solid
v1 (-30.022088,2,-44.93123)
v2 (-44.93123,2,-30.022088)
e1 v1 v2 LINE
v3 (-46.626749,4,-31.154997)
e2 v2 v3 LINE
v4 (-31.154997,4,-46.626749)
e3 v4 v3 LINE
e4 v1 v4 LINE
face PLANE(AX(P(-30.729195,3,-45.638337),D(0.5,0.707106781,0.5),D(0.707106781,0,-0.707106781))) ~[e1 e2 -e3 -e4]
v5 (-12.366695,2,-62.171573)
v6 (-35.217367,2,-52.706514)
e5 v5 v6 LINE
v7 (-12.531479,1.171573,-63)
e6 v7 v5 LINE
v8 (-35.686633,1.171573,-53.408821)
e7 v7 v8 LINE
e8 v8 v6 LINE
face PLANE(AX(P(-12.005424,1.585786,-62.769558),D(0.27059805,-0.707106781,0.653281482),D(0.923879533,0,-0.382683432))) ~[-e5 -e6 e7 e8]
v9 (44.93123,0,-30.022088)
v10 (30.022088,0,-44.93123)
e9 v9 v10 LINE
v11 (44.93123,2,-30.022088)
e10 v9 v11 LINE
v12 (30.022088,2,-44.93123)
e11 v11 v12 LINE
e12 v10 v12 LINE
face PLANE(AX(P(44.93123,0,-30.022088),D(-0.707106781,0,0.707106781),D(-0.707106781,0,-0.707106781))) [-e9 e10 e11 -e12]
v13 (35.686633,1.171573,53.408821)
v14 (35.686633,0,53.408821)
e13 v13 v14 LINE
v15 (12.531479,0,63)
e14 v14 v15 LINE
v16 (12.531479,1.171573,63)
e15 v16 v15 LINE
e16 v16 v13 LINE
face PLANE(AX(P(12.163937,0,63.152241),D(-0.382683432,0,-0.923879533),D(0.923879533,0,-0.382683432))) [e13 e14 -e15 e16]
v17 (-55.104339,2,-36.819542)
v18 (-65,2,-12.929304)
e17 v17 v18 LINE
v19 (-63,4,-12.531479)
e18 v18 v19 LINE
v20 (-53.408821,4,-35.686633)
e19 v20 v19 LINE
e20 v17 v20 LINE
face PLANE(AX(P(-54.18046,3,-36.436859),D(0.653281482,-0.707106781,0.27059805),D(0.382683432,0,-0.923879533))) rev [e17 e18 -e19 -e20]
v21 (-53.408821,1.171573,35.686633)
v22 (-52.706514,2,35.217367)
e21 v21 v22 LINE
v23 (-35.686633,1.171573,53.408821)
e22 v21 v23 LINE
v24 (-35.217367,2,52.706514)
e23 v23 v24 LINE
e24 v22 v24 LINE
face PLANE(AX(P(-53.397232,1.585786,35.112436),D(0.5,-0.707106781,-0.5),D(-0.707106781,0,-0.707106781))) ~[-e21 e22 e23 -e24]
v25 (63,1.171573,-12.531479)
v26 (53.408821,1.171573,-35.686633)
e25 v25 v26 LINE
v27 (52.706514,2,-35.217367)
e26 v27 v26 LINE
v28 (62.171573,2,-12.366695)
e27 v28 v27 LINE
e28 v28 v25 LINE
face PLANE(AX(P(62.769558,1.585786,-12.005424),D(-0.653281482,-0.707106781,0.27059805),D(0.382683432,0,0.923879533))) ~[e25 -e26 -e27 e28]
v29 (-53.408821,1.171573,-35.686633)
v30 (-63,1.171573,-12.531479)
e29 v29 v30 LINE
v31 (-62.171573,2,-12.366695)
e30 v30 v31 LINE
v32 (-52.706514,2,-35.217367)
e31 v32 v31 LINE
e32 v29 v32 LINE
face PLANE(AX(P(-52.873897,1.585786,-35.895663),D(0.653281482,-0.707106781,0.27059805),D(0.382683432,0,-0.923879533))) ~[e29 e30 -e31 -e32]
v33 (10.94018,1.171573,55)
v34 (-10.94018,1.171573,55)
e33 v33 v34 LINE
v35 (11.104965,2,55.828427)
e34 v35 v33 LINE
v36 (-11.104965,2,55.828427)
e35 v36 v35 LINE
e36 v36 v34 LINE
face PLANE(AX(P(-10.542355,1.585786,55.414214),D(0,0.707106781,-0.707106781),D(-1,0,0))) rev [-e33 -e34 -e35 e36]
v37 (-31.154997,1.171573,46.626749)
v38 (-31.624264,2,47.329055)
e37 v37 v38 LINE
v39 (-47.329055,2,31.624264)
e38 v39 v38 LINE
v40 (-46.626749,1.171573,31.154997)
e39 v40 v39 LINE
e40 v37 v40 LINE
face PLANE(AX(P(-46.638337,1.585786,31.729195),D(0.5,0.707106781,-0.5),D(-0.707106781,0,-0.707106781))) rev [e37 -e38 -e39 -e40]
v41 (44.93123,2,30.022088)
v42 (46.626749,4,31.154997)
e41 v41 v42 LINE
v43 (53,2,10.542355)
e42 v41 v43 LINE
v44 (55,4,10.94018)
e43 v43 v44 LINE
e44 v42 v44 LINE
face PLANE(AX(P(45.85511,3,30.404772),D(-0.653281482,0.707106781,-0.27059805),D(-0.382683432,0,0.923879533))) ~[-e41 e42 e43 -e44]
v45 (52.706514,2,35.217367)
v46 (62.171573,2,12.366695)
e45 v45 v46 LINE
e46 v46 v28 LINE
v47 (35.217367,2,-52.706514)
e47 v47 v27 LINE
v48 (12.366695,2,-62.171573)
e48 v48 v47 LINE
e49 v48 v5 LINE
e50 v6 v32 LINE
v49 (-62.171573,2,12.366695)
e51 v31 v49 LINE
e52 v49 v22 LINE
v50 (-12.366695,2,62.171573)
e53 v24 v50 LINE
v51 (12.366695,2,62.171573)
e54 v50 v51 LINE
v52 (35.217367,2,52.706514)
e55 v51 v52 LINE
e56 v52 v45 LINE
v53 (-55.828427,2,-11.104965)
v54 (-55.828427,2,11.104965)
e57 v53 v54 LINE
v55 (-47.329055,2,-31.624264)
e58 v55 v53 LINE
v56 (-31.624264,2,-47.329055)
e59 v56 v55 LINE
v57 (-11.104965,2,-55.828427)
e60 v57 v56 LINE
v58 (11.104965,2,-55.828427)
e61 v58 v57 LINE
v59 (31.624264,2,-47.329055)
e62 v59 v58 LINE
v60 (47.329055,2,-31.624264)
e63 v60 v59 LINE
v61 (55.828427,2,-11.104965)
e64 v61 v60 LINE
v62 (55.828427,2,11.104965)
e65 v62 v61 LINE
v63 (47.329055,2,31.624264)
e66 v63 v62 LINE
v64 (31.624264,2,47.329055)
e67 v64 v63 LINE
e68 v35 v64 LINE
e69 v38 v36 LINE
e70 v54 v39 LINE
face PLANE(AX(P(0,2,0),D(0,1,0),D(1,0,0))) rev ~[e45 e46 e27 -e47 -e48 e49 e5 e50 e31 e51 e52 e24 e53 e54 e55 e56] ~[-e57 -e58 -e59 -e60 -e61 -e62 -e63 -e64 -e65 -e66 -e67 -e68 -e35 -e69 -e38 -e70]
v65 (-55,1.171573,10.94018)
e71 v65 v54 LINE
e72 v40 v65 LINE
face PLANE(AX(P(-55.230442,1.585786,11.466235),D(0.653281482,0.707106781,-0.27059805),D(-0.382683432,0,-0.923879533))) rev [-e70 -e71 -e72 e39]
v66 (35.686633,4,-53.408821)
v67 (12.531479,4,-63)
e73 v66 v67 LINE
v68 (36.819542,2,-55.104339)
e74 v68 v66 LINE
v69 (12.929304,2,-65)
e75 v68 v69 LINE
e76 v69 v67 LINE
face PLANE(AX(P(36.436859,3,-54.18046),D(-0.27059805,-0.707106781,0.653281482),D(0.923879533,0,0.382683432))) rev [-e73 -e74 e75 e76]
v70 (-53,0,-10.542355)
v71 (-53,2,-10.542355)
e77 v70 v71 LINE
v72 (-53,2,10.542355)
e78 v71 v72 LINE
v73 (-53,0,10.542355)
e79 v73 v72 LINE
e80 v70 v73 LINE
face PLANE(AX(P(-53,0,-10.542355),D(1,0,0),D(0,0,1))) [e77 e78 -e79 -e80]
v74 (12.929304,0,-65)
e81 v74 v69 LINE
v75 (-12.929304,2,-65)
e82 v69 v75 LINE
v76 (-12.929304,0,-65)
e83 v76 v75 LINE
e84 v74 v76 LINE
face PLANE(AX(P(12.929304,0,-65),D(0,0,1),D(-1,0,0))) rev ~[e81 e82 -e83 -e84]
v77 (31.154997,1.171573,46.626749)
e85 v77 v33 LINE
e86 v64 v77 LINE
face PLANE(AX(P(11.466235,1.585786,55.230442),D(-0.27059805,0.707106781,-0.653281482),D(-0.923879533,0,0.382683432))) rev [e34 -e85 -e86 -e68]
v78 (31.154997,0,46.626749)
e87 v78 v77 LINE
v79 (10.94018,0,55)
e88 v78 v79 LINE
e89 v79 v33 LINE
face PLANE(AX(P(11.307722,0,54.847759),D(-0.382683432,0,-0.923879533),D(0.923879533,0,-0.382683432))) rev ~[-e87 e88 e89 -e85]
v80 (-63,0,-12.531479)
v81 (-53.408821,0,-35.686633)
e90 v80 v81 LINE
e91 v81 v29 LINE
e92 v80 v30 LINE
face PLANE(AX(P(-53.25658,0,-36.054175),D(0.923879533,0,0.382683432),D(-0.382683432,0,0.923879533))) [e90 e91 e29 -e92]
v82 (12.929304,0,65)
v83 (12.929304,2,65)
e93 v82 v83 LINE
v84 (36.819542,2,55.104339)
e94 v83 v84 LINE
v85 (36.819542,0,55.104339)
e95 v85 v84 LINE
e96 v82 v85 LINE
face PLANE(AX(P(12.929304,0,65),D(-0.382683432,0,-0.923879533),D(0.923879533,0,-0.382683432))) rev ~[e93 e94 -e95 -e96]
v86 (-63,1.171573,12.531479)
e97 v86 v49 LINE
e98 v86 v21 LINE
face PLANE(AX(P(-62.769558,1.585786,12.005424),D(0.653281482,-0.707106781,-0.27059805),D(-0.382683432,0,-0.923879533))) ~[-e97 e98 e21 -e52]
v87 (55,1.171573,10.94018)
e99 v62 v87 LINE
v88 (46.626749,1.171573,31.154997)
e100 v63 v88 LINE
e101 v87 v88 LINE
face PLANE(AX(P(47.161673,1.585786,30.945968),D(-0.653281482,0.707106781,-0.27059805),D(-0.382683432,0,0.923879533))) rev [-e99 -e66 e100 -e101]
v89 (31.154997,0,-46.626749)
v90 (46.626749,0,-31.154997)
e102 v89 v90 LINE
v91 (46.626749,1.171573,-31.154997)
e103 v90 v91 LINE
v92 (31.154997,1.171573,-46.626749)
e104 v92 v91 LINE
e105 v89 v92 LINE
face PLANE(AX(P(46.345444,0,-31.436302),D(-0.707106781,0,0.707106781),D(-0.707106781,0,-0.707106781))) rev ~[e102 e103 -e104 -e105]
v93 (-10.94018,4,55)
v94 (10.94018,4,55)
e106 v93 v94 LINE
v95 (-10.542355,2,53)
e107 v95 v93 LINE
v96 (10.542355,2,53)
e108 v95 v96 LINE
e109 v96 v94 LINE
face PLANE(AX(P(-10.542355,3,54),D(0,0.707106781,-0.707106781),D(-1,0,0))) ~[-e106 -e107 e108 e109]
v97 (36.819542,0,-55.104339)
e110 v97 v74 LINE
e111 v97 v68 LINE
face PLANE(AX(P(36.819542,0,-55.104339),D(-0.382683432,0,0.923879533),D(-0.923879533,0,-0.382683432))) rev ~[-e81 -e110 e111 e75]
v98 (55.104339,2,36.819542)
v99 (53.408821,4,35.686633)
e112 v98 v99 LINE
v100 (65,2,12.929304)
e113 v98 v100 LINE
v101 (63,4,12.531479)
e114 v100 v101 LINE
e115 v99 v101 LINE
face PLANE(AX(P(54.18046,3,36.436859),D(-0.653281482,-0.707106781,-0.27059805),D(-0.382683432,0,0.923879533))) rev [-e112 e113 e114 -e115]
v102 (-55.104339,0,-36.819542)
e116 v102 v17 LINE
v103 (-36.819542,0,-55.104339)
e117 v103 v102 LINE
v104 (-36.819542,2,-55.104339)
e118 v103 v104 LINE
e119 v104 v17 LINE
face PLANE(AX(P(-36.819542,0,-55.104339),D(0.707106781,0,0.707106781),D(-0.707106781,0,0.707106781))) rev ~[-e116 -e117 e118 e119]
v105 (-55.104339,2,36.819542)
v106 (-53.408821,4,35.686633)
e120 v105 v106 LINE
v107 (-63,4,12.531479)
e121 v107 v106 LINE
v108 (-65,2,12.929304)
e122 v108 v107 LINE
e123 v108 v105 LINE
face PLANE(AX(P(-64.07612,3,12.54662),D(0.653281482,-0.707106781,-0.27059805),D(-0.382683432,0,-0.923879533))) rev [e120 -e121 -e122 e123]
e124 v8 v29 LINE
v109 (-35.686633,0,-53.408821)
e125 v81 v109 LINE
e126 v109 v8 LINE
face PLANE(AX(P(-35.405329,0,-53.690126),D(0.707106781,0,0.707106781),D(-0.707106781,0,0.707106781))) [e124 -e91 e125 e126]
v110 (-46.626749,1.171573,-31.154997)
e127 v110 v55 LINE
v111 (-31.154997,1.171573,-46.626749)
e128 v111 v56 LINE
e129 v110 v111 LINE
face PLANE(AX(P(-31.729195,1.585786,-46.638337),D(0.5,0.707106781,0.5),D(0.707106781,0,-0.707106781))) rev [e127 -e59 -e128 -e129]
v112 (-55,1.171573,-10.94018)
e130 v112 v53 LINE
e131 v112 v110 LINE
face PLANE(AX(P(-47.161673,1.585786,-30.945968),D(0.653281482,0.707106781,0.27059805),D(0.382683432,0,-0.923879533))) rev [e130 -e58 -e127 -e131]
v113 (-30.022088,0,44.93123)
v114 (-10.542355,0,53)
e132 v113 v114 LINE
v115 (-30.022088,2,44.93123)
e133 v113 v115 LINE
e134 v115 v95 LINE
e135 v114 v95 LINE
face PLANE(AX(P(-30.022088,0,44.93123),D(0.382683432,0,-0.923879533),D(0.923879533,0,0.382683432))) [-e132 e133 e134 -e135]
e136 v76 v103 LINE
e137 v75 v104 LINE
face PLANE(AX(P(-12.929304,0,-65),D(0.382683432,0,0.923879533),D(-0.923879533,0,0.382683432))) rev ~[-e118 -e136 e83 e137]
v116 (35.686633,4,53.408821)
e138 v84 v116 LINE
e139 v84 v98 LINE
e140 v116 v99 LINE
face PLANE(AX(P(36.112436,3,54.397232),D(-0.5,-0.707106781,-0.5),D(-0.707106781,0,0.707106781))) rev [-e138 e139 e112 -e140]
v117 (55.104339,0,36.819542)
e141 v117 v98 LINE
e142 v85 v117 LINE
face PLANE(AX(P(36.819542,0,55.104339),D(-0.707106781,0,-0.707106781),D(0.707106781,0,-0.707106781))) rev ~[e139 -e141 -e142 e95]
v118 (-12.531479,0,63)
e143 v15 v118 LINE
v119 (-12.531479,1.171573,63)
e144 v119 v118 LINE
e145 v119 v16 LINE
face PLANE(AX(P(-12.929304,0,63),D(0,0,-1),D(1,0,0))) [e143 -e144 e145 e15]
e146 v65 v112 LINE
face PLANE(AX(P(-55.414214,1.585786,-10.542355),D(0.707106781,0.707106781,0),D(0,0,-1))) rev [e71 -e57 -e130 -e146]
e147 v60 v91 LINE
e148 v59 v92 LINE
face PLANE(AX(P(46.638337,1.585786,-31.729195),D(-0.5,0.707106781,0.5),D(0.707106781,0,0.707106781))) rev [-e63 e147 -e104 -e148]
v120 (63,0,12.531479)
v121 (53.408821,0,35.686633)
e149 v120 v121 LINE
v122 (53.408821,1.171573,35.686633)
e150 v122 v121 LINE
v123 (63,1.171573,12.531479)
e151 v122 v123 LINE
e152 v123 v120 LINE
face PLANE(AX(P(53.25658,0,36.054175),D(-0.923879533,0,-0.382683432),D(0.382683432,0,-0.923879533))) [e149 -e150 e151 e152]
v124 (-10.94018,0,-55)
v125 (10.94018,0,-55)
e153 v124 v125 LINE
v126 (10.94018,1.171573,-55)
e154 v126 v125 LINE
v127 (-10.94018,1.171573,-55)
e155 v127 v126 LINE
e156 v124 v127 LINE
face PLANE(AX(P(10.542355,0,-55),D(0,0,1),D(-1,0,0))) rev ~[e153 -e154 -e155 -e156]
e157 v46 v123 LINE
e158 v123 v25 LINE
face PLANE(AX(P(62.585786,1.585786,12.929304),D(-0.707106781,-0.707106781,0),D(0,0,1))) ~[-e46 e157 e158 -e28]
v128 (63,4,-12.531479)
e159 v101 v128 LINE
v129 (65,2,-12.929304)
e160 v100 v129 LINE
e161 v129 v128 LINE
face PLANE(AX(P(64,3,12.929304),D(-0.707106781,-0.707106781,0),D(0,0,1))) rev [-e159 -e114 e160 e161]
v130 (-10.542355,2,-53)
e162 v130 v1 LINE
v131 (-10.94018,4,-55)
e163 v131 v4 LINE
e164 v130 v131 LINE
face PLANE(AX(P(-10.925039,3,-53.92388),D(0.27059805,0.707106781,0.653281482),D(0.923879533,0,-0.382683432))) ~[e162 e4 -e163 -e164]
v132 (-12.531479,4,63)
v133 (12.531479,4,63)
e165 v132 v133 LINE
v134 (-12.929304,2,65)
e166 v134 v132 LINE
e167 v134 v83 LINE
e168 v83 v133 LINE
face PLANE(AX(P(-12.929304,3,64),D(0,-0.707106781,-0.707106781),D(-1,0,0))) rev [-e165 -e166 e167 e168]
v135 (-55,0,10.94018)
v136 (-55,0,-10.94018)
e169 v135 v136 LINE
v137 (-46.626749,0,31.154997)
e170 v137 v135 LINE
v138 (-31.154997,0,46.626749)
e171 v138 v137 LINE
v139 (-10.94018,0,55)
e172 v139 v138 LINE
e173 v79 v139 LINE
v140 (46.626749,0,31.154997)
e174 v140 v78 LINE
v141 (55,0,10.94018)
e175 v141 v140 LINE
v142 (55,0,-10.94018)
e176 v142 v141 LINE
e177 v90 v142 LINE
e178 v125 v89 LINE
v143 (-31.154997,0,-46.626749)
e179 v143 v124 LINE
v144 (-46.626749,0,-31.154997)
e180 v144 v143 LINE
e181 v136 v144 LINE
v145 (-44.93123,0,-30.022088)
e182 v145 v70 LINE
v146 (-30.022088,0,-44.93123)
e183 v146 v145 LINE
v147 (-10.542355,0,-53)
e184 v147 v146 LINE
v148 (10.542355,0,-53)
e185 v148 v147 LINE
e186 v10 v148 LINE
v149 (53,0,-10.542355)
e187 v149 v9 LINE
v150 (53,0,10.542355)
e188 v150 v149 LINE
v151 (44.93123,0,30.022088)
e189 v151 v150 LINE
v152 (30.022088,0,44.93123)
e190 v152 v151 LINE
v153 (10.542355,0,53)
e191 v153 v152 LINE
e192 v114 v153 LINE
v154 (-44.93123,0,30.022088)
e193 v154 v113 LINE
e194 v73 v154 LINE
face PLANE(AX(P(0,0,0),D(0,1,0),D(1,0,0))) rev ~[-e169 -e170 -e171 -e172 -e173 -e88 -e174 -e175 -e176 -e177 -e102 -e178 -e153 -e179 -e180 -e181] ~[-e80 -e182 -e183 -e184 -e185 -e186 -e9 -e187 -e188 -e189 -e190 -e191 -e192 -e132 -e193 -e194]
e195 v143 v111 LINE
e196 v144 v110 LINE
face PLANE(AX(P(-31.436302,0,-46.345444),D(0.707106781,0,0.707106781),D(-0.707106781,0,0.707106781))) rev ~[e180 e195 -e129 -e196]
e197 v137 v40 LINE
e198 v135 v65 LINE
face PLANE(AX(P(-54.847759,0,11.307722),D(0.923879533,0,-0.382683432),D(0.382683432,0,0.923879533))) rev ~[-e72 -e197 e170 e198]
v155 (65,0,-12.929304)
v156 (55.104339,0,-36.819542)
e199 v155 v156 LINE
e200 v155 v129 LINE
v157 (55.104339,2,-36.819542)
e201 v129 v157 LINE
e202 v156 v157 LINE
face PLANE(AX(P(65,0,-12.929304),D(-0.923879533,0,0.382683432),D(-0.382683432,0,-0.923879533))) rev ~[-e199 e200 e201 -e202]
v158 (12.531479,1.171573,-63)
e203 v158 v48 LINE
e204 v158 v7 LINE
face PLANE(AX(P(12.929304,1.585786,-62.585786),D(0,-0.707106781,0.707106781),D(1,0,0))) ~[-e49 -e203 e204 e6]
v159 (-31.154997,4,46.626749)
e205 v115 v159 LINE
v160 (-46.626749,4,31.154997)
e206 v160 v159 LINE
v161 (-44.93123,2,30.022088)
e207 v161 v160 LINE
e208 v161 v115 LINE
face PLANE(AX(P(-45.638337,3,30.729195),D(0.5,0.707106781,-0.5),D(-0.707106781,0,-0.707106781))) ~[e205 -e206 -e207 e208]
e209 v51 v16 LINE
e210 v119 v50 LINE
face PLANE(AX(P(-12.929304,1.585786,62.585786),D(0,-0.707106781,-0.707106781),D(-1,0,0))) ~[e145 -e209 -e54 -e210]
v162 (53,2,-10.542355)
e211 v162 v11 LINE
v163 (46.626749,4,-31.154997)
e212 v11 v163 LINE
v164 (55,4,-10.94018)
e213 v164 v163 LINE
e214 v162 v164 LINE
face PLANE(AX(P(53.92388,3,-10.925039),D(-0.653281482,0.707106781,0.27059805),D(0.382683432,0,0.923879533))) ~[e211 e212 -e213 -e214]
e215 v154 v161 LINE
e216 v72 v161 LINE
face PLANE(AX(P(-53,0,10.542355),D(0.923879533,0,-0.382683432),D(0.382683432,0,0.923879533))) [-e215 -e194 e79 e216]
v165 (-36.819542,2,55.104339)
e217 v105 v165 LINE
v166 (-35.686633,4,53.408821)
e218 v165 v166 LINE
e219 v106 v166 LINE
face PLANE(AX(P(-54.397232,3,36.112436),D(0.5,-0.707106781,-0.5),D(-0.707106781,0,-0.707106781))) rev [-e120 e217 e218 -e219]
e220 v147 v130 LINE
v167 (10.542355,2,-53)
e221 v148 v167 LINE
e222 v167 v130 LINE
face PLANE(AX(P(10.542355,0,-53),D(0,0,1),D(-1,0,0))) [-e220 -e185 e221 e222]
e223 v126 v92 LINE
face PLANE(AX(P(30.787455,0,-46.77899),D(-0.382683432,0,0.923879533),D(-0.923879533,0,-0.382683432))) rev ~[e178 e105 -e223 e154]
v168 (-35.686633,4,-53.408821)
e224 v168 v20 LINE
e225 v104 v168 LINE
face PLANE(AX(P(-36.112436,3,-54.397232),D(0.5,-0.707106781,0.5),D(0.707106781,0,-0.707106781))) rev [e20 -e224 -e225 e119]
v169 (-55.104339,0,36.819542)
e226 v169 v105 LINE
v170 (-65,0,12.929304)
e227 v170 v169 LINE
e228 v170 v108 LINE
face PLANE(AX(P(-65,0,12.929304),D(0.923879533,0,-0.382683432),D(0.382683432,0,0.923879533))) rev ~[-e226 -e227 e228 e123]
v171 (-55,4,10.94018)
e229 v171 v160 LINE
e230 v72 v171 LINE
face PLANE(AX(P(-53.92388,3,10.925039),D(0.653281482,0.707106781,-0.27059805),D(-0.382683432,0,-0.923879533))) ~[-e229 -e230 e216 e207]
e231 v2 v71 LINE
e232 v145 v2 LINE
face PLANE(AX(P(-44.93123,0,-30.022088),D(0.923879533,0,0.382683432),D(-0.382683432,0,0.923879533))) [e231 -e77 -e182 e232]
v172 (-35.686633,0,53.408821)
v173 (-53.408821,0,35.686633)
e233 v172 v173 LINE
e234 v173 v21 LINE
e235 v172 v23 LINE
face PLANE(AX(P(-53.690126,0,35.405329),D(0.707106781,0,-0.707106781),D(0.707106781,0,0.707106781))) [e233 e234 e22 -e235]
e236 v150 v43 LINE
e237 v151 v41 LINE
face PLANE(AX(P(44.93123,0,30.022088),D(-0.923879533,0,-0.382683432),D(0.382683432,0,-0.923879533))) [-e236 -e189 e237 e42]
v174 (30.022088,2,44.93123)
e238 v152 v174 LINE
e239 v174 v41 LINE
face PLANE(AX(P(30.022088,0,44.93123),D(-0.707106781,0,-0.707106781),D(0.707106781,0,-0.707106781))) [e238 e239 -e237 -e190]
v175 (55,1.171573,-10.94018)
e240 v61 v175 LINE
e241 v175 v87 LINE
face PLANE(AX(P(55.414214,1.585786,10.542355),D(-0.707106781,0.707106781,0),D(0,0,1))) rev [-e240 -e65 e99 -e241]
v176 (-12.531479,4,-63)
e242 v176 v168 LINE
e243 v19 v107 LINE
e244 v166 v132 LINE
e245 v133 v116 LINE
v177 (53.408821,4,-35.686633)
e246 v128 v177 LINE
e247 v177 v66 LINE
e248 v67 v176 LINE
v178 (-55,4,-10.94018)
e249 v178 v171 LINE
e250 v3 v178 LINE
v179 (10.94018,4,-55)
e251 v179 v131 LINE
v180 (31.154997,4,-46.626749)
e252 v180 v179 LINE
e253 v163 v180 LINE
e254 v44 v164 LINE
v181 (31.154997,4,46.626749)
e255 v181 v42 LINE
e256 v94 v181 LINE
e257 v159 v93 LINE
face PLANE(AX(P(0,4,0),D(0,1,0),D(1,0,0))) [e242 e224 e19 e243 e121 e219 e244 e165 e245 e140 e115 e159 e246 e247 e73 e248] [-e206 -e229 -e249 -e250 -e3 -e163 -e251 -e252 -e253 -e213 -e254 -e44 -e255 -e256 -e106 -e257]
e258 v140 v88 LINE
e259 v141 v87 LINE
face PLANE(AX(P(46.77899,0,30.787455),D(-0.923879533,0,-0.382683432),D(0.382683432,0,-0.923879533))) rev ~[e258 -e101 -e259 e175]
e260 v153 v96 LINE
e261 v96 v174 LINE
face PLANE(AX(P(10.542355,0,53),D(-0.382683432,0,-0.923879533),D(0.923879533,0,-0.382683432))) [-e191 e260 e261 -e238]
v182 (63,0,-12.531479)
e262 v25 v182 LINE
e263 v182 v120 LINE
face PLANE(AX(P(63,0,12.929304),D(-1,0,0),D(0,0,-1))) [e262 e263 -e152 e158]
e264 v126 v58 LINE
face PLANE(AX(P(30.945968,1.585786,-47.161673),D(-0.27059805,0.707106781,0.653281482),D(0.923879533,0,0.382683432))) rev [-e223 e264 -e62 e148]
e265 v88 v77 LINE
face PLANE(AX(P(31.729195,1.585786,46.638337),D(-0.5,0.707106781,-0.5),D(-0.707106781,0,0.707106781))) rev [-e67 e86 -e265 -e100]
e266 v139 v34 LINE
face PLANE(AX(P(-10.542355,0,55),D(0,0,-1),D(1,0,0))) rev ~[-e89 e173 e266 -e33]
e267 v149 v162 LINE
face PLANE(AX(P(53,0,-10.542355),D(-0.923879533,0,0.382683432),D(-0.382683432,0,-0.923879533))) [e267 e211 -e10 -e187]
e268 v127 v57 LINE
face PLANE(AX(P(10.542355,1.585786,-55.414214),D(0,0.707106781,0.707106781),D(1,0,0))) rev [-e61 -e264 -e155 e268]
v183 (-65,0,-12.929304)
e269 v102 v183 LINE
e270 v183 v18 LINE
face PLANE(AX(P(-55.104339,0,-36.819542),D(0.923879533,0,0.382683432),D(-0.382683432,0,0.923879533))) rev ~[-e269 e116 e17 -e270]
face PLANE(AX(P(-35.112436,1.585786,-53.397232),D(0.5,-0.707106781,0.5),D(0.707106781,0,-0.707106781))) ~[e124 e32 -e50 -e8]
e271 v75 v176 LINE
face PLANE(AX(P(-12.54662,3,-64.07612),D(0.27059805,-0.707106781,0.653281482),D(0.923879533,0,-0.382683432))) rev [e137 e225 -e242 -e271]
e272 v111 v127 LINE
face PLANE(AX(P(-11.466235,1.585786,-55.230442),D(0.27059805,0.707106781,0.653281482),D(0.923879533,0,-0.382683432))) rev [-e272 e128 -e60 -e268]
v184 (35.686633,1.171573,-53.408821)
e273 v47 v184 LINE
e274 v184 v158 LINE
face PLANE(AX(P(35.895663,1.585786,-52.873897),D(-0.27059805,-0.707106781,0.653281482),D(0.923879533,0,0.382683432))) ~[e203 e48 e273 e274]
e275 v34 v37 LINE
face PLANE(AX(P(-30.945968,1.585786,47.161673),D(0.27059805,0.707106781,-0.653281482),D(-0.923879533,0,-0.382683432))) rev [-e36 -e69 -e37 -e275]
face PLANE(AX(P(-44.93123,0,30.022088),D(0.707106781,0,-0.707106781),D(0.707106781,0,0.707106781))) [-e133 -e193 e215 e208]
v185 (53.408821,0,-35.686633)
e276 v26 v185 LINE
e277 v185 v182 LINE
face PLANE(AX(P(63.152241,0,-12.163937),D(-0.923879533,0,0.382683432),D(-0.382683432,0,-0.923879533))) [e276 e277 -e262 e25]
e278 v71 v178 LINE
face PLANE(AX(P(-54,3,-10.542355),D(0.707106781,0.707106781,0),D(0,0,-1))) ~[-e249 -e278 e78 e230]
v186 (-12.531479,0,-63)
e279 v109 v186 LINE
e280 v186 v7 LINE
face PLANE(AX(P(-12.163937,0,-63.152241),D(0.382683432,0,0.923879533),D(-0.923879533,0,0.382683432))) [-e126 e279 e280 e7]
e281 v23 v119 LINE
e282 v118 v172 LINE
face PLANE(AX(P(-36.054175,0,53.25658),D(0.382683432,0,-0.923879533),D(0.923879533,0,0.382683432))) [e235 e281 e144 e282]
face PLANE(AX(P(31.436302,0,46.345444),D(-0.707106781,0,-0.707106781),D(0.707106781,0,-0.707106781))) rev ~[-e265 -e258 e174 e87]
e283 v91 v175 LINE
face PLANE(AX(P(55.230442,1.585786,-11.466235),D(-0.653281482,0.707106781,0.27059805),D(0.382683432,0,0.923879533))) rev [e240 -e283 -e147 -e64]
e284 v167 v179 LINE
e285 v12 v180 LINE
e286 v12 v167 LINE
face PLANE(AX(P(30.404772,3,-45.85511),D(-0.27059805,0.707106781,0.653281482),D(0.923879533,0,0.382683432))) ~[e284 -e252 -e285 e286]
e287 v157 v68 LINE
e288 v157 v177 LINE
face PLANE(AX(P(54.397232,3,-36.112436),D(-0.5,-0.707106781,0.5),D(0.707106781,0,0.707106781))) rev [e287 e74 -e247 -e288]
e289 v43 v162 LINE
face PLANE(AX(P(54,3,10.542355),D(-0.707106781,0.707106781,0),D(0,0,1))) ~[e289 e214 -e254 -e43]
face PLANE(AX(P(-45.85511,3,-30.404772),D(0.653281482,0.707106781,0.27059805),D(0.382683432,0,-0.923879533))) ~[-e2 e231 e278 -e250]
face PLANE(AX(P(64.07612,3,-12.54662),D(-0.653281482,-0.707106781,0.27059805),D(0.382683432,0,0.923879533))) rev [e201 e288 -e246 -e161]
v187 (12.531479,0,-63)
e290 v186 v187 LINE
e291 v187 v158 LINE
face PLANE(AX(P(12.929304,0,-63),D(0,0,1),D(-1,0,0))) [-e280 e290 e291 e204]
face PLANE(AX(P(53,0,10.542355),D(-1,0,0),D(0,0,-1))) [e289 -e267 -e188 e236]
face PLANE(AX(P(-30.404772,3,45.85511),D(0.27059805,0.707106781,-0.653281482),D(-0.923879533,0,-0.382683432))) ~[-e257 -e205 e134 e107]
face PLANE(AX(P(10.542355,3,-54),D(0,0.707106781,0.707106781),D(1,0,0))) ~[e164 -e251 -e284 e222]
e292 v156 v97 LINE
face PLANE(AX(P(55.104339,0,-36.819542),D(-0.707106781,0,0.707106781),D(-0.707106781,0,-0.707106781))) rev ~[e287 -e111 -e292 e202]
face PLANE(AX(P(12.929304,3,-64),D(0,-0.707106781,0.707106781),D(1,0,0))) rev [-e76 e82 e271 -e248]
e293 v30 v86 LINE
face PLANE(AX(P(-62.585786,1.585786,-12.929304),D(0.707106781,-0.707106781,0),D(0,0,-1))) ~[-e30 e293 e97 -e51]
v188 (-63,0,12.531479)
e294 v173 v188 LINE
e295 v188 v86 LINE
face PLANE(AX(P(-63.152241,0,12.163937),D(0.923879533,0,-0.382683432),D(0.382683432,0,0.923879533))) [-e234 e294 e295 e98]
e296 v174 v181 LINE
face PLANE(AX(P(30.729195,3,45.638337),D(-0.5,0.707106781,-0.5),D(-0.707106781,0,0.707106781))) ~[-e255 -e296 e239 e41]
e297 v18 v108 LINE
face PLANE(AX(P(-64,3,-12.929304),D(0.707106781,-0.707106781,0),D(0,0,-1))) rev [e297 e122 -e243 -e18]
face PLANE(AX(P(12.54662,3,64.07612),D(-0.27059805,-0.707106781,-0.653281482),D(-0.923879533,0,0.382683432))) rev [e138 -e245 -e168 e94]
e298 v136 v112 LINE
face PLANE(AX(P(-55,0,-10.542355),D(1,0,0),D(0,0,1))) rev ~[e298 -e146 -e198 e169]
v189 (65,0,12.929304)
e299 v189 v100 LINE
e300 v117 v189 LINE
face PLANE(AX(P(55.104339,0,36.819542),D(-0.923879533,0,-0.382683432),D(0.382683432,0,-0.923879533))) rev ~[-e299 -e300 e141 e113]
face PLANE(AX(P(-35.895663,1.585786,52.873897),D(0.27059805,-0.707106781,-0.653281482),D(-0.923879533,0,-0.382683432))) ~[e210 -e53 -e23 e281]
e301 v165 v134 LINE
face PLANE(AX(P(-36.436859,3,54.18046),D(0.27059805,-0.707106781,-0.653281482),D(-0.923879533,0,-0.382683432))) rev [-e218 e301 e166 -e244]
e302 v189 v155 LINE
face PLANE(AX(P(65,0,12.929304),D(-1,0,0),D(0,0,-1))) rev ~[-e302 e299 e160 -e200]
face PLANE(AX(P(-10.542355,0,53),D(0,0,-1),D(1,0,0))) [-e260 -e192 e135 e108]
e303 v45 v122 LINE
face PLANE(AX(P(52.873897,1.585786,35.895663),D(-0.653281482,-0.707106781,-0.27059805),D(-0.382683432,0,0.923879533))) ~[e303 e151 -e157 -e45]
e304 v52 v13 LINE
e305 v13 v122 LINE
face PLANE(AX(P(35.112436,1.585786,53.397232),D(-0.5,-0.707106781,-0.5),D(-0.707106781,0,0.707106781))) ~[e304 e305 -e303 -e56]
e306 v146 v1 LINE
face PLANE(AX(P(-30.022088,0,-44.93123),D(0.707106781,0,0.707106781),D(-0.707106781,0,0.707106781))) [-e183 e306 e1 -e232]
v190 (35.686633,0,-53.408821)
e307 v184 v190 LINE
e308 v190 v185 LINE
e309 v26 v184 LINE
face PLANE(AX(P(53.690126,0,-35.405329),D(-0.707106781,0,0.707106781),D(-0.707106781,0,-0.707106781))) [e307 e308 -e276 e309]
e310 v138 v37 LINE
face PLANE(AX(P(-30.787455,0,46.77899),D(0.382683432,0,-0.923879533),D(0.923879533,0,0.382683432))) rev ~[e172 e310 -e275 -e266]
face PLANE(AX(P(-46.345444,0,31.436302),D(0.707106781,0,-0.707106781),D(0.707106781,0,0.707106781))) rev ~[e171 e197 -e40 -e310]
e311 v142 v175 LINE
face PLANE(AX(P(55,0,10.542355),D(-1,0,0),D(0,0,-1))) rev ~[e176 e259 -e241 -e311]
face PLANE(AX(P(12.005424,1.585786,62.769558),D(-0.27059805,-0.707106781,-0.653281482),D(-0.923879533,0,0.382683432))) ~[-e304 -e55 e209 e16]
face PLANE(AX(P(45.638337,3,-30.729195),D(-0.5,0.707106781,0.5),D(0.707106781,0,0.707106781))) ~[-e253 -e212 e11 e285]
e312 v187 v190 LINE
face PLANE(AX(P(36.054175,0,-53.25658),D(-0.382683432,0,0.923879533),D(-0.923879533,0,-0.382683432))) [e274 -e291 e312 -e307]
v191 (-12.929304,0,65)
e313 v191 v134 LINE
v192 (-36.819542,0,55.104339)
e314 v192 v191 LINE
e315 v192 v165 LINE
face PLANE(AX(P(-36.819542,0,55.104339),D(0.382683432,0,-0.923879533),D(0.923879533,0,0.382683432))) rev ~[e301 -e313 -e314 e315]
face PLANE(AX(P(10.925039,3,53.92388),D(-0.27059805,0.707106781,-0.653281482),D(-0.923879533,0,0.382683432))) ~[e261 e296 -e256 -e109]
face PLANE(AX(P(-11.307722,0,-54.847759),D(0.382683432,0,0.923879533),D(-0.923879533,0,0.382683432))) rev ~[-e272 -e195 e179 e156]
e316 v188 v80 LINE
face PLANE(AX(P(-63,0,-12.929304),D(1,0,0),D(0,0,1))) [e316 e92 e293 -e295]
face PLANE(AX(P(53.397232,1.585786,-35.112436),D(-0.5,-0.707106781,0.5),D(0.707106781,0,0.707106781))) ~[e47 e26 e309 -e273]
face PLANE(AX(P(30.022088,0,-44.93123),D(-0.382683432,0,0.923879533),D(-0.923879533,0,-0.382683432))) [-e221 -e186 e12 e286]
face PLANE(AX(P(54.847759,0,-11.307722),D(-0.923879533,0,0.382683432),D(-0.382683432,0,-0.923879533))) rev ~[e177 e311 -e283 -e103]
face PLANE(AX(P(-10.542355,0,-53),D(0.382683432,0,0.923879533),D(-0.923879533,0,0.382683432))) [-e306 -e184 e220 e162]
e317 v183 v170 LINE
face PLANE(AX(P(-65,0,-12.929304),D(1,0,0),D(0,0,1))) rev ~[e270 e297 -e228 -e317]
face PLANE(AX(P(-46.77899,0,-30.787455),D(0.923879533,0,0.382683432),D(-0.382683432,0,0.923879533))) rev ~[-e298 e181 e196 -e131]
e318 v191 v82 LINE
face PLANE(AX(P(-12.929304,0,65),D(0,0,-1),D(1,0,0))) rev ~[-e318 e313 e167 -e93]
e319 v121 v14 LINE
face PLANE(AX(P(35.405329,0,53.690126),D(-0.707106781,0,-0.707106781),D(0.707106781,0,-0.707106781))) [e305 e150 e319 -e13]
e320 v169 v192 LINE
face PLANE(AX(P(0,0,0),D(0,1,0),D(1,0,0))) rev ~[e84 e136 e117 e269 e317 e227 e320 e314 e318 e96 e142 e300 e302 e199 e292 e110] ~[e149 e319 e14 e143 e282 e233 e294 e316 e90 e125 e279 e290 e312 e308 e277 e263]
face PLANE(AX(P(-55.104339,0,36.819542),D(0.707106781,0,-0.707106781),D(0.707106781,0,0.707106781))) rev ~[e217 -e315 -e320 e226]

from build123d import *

# Parameters (mm, degrees)
BOSS_EXTRUDE1_DEPTH = 4
CHAMFER1_SIZE       = 2
SHELL1_T            = -2


with BuildPart() as part:
    # Sketch1 → Boss-Extrude1 (new body)
    with BuildSketch(Plane(origin=(0, 0, 0), x_dir=(1, 0, 0), z_dir=(0, 1, 0))):
        Polygon((36.819542328, 55.104339226), (12.92930388, 65), (-12.92930388, 65), (-36.819542328, 55.104339226), (-55.104339226, 36.819542328), (-65, 12.92930388), (-65, -12.92930388), (-55.104339226, -36.819542328), (-36.819542328, -55.104339226), (-12.92930388, -65), (12.92930388, -65), (36.819542328, -55.104339226), (55.104339226, -36.819542328), (65, -12.92930388), (65, 12.92930388), (55.104339226, 36.819542328), align=None)
        Polygon((10.542355471, 53), (-10.542355471, 53), (-30.02208836, 44.931230446), (-44.931230446, 30.02208836), (-53, 10.542355471), (-53, -10.542355471), (-44.931230446, -30.02208836), (-30.02208836, -44.931230446), (-10.542355471, -53), (10.542355471, -53), (30.02208836, -44.931230446), (44.931230446, -30.02208836), (53, -10.542355471), (53, 10.542355471), (44.931230446, 30.02208836), (30.02208836, 44.931230446), align=None, mode=Mode.SUBTRACT)
    extrude(amount=BOSS_EXTRUDE1_DEPTH)

    # Chamfer1
    chamfer1_edges = [part.edges().sort_by_distance(p)[0] for p in [
        (0, 4, -65),
        (-24.874423104, 4, -60.052169613),
        (-45.961940777, 4, -45.961940777),
        (-60.052169613, 4, -24.874423104),
        (-65, 4, 0),
        (-60.052169613, 4, 24.874423104),
        (-45.961940777, 4, 45.961940777),
        (-24.874423104, 4, 60.052169613),
        (0, 4, 65),
        (24.874423104, 4, 60.052169613),
        (45.961940777, 4, -45.961940777),
        (45.961940777, 4, 45.961940777),
        (60.052169613, 4, 24.874423104),
        (20.282221915, 4, -48.965615223),
        (0, 4, -53),
        (-20.282221915, 4, -48.965615223),
        (-37.476659403, 4, -37.476659403),
        (-48.965615223, 4, -20.282221915),
        (-53, 4, 0),
        (-48.965615223, 4, 20.282221915),
        (65, 4, 0),
        (-37.476659403, 4, 37.476659403),
        (-20.282221915, 4, 48.965615223),
        (0, 4, 53),
        (20.282221915, 4, 48.965615223),
        (37.476659403, 4, 37.476659403),
        (48.965615223, 4, 20.282221915),
        (53, 4, 0),
        (48.965615223, 4, -20.282221915),
        (37.476659403, 4, -37.476659403),
        (60.052169613, 4, -24.874423104),
        (24.874423104, 4, -60.052169613),
    ]]
    chamfer(chamfer1_edges, length=CHAMFER1_SIZE)

    # Shell1
    shell1_openings = [part.faces().sort_by_distance(p)[0] for p in [
        (24.170868174, 0, -58.353637759),
    ]]
    offset(amount=SHELL1_T, openings=shell1_openings, kind=Kind.INTERSECTION)


solid = part.part
